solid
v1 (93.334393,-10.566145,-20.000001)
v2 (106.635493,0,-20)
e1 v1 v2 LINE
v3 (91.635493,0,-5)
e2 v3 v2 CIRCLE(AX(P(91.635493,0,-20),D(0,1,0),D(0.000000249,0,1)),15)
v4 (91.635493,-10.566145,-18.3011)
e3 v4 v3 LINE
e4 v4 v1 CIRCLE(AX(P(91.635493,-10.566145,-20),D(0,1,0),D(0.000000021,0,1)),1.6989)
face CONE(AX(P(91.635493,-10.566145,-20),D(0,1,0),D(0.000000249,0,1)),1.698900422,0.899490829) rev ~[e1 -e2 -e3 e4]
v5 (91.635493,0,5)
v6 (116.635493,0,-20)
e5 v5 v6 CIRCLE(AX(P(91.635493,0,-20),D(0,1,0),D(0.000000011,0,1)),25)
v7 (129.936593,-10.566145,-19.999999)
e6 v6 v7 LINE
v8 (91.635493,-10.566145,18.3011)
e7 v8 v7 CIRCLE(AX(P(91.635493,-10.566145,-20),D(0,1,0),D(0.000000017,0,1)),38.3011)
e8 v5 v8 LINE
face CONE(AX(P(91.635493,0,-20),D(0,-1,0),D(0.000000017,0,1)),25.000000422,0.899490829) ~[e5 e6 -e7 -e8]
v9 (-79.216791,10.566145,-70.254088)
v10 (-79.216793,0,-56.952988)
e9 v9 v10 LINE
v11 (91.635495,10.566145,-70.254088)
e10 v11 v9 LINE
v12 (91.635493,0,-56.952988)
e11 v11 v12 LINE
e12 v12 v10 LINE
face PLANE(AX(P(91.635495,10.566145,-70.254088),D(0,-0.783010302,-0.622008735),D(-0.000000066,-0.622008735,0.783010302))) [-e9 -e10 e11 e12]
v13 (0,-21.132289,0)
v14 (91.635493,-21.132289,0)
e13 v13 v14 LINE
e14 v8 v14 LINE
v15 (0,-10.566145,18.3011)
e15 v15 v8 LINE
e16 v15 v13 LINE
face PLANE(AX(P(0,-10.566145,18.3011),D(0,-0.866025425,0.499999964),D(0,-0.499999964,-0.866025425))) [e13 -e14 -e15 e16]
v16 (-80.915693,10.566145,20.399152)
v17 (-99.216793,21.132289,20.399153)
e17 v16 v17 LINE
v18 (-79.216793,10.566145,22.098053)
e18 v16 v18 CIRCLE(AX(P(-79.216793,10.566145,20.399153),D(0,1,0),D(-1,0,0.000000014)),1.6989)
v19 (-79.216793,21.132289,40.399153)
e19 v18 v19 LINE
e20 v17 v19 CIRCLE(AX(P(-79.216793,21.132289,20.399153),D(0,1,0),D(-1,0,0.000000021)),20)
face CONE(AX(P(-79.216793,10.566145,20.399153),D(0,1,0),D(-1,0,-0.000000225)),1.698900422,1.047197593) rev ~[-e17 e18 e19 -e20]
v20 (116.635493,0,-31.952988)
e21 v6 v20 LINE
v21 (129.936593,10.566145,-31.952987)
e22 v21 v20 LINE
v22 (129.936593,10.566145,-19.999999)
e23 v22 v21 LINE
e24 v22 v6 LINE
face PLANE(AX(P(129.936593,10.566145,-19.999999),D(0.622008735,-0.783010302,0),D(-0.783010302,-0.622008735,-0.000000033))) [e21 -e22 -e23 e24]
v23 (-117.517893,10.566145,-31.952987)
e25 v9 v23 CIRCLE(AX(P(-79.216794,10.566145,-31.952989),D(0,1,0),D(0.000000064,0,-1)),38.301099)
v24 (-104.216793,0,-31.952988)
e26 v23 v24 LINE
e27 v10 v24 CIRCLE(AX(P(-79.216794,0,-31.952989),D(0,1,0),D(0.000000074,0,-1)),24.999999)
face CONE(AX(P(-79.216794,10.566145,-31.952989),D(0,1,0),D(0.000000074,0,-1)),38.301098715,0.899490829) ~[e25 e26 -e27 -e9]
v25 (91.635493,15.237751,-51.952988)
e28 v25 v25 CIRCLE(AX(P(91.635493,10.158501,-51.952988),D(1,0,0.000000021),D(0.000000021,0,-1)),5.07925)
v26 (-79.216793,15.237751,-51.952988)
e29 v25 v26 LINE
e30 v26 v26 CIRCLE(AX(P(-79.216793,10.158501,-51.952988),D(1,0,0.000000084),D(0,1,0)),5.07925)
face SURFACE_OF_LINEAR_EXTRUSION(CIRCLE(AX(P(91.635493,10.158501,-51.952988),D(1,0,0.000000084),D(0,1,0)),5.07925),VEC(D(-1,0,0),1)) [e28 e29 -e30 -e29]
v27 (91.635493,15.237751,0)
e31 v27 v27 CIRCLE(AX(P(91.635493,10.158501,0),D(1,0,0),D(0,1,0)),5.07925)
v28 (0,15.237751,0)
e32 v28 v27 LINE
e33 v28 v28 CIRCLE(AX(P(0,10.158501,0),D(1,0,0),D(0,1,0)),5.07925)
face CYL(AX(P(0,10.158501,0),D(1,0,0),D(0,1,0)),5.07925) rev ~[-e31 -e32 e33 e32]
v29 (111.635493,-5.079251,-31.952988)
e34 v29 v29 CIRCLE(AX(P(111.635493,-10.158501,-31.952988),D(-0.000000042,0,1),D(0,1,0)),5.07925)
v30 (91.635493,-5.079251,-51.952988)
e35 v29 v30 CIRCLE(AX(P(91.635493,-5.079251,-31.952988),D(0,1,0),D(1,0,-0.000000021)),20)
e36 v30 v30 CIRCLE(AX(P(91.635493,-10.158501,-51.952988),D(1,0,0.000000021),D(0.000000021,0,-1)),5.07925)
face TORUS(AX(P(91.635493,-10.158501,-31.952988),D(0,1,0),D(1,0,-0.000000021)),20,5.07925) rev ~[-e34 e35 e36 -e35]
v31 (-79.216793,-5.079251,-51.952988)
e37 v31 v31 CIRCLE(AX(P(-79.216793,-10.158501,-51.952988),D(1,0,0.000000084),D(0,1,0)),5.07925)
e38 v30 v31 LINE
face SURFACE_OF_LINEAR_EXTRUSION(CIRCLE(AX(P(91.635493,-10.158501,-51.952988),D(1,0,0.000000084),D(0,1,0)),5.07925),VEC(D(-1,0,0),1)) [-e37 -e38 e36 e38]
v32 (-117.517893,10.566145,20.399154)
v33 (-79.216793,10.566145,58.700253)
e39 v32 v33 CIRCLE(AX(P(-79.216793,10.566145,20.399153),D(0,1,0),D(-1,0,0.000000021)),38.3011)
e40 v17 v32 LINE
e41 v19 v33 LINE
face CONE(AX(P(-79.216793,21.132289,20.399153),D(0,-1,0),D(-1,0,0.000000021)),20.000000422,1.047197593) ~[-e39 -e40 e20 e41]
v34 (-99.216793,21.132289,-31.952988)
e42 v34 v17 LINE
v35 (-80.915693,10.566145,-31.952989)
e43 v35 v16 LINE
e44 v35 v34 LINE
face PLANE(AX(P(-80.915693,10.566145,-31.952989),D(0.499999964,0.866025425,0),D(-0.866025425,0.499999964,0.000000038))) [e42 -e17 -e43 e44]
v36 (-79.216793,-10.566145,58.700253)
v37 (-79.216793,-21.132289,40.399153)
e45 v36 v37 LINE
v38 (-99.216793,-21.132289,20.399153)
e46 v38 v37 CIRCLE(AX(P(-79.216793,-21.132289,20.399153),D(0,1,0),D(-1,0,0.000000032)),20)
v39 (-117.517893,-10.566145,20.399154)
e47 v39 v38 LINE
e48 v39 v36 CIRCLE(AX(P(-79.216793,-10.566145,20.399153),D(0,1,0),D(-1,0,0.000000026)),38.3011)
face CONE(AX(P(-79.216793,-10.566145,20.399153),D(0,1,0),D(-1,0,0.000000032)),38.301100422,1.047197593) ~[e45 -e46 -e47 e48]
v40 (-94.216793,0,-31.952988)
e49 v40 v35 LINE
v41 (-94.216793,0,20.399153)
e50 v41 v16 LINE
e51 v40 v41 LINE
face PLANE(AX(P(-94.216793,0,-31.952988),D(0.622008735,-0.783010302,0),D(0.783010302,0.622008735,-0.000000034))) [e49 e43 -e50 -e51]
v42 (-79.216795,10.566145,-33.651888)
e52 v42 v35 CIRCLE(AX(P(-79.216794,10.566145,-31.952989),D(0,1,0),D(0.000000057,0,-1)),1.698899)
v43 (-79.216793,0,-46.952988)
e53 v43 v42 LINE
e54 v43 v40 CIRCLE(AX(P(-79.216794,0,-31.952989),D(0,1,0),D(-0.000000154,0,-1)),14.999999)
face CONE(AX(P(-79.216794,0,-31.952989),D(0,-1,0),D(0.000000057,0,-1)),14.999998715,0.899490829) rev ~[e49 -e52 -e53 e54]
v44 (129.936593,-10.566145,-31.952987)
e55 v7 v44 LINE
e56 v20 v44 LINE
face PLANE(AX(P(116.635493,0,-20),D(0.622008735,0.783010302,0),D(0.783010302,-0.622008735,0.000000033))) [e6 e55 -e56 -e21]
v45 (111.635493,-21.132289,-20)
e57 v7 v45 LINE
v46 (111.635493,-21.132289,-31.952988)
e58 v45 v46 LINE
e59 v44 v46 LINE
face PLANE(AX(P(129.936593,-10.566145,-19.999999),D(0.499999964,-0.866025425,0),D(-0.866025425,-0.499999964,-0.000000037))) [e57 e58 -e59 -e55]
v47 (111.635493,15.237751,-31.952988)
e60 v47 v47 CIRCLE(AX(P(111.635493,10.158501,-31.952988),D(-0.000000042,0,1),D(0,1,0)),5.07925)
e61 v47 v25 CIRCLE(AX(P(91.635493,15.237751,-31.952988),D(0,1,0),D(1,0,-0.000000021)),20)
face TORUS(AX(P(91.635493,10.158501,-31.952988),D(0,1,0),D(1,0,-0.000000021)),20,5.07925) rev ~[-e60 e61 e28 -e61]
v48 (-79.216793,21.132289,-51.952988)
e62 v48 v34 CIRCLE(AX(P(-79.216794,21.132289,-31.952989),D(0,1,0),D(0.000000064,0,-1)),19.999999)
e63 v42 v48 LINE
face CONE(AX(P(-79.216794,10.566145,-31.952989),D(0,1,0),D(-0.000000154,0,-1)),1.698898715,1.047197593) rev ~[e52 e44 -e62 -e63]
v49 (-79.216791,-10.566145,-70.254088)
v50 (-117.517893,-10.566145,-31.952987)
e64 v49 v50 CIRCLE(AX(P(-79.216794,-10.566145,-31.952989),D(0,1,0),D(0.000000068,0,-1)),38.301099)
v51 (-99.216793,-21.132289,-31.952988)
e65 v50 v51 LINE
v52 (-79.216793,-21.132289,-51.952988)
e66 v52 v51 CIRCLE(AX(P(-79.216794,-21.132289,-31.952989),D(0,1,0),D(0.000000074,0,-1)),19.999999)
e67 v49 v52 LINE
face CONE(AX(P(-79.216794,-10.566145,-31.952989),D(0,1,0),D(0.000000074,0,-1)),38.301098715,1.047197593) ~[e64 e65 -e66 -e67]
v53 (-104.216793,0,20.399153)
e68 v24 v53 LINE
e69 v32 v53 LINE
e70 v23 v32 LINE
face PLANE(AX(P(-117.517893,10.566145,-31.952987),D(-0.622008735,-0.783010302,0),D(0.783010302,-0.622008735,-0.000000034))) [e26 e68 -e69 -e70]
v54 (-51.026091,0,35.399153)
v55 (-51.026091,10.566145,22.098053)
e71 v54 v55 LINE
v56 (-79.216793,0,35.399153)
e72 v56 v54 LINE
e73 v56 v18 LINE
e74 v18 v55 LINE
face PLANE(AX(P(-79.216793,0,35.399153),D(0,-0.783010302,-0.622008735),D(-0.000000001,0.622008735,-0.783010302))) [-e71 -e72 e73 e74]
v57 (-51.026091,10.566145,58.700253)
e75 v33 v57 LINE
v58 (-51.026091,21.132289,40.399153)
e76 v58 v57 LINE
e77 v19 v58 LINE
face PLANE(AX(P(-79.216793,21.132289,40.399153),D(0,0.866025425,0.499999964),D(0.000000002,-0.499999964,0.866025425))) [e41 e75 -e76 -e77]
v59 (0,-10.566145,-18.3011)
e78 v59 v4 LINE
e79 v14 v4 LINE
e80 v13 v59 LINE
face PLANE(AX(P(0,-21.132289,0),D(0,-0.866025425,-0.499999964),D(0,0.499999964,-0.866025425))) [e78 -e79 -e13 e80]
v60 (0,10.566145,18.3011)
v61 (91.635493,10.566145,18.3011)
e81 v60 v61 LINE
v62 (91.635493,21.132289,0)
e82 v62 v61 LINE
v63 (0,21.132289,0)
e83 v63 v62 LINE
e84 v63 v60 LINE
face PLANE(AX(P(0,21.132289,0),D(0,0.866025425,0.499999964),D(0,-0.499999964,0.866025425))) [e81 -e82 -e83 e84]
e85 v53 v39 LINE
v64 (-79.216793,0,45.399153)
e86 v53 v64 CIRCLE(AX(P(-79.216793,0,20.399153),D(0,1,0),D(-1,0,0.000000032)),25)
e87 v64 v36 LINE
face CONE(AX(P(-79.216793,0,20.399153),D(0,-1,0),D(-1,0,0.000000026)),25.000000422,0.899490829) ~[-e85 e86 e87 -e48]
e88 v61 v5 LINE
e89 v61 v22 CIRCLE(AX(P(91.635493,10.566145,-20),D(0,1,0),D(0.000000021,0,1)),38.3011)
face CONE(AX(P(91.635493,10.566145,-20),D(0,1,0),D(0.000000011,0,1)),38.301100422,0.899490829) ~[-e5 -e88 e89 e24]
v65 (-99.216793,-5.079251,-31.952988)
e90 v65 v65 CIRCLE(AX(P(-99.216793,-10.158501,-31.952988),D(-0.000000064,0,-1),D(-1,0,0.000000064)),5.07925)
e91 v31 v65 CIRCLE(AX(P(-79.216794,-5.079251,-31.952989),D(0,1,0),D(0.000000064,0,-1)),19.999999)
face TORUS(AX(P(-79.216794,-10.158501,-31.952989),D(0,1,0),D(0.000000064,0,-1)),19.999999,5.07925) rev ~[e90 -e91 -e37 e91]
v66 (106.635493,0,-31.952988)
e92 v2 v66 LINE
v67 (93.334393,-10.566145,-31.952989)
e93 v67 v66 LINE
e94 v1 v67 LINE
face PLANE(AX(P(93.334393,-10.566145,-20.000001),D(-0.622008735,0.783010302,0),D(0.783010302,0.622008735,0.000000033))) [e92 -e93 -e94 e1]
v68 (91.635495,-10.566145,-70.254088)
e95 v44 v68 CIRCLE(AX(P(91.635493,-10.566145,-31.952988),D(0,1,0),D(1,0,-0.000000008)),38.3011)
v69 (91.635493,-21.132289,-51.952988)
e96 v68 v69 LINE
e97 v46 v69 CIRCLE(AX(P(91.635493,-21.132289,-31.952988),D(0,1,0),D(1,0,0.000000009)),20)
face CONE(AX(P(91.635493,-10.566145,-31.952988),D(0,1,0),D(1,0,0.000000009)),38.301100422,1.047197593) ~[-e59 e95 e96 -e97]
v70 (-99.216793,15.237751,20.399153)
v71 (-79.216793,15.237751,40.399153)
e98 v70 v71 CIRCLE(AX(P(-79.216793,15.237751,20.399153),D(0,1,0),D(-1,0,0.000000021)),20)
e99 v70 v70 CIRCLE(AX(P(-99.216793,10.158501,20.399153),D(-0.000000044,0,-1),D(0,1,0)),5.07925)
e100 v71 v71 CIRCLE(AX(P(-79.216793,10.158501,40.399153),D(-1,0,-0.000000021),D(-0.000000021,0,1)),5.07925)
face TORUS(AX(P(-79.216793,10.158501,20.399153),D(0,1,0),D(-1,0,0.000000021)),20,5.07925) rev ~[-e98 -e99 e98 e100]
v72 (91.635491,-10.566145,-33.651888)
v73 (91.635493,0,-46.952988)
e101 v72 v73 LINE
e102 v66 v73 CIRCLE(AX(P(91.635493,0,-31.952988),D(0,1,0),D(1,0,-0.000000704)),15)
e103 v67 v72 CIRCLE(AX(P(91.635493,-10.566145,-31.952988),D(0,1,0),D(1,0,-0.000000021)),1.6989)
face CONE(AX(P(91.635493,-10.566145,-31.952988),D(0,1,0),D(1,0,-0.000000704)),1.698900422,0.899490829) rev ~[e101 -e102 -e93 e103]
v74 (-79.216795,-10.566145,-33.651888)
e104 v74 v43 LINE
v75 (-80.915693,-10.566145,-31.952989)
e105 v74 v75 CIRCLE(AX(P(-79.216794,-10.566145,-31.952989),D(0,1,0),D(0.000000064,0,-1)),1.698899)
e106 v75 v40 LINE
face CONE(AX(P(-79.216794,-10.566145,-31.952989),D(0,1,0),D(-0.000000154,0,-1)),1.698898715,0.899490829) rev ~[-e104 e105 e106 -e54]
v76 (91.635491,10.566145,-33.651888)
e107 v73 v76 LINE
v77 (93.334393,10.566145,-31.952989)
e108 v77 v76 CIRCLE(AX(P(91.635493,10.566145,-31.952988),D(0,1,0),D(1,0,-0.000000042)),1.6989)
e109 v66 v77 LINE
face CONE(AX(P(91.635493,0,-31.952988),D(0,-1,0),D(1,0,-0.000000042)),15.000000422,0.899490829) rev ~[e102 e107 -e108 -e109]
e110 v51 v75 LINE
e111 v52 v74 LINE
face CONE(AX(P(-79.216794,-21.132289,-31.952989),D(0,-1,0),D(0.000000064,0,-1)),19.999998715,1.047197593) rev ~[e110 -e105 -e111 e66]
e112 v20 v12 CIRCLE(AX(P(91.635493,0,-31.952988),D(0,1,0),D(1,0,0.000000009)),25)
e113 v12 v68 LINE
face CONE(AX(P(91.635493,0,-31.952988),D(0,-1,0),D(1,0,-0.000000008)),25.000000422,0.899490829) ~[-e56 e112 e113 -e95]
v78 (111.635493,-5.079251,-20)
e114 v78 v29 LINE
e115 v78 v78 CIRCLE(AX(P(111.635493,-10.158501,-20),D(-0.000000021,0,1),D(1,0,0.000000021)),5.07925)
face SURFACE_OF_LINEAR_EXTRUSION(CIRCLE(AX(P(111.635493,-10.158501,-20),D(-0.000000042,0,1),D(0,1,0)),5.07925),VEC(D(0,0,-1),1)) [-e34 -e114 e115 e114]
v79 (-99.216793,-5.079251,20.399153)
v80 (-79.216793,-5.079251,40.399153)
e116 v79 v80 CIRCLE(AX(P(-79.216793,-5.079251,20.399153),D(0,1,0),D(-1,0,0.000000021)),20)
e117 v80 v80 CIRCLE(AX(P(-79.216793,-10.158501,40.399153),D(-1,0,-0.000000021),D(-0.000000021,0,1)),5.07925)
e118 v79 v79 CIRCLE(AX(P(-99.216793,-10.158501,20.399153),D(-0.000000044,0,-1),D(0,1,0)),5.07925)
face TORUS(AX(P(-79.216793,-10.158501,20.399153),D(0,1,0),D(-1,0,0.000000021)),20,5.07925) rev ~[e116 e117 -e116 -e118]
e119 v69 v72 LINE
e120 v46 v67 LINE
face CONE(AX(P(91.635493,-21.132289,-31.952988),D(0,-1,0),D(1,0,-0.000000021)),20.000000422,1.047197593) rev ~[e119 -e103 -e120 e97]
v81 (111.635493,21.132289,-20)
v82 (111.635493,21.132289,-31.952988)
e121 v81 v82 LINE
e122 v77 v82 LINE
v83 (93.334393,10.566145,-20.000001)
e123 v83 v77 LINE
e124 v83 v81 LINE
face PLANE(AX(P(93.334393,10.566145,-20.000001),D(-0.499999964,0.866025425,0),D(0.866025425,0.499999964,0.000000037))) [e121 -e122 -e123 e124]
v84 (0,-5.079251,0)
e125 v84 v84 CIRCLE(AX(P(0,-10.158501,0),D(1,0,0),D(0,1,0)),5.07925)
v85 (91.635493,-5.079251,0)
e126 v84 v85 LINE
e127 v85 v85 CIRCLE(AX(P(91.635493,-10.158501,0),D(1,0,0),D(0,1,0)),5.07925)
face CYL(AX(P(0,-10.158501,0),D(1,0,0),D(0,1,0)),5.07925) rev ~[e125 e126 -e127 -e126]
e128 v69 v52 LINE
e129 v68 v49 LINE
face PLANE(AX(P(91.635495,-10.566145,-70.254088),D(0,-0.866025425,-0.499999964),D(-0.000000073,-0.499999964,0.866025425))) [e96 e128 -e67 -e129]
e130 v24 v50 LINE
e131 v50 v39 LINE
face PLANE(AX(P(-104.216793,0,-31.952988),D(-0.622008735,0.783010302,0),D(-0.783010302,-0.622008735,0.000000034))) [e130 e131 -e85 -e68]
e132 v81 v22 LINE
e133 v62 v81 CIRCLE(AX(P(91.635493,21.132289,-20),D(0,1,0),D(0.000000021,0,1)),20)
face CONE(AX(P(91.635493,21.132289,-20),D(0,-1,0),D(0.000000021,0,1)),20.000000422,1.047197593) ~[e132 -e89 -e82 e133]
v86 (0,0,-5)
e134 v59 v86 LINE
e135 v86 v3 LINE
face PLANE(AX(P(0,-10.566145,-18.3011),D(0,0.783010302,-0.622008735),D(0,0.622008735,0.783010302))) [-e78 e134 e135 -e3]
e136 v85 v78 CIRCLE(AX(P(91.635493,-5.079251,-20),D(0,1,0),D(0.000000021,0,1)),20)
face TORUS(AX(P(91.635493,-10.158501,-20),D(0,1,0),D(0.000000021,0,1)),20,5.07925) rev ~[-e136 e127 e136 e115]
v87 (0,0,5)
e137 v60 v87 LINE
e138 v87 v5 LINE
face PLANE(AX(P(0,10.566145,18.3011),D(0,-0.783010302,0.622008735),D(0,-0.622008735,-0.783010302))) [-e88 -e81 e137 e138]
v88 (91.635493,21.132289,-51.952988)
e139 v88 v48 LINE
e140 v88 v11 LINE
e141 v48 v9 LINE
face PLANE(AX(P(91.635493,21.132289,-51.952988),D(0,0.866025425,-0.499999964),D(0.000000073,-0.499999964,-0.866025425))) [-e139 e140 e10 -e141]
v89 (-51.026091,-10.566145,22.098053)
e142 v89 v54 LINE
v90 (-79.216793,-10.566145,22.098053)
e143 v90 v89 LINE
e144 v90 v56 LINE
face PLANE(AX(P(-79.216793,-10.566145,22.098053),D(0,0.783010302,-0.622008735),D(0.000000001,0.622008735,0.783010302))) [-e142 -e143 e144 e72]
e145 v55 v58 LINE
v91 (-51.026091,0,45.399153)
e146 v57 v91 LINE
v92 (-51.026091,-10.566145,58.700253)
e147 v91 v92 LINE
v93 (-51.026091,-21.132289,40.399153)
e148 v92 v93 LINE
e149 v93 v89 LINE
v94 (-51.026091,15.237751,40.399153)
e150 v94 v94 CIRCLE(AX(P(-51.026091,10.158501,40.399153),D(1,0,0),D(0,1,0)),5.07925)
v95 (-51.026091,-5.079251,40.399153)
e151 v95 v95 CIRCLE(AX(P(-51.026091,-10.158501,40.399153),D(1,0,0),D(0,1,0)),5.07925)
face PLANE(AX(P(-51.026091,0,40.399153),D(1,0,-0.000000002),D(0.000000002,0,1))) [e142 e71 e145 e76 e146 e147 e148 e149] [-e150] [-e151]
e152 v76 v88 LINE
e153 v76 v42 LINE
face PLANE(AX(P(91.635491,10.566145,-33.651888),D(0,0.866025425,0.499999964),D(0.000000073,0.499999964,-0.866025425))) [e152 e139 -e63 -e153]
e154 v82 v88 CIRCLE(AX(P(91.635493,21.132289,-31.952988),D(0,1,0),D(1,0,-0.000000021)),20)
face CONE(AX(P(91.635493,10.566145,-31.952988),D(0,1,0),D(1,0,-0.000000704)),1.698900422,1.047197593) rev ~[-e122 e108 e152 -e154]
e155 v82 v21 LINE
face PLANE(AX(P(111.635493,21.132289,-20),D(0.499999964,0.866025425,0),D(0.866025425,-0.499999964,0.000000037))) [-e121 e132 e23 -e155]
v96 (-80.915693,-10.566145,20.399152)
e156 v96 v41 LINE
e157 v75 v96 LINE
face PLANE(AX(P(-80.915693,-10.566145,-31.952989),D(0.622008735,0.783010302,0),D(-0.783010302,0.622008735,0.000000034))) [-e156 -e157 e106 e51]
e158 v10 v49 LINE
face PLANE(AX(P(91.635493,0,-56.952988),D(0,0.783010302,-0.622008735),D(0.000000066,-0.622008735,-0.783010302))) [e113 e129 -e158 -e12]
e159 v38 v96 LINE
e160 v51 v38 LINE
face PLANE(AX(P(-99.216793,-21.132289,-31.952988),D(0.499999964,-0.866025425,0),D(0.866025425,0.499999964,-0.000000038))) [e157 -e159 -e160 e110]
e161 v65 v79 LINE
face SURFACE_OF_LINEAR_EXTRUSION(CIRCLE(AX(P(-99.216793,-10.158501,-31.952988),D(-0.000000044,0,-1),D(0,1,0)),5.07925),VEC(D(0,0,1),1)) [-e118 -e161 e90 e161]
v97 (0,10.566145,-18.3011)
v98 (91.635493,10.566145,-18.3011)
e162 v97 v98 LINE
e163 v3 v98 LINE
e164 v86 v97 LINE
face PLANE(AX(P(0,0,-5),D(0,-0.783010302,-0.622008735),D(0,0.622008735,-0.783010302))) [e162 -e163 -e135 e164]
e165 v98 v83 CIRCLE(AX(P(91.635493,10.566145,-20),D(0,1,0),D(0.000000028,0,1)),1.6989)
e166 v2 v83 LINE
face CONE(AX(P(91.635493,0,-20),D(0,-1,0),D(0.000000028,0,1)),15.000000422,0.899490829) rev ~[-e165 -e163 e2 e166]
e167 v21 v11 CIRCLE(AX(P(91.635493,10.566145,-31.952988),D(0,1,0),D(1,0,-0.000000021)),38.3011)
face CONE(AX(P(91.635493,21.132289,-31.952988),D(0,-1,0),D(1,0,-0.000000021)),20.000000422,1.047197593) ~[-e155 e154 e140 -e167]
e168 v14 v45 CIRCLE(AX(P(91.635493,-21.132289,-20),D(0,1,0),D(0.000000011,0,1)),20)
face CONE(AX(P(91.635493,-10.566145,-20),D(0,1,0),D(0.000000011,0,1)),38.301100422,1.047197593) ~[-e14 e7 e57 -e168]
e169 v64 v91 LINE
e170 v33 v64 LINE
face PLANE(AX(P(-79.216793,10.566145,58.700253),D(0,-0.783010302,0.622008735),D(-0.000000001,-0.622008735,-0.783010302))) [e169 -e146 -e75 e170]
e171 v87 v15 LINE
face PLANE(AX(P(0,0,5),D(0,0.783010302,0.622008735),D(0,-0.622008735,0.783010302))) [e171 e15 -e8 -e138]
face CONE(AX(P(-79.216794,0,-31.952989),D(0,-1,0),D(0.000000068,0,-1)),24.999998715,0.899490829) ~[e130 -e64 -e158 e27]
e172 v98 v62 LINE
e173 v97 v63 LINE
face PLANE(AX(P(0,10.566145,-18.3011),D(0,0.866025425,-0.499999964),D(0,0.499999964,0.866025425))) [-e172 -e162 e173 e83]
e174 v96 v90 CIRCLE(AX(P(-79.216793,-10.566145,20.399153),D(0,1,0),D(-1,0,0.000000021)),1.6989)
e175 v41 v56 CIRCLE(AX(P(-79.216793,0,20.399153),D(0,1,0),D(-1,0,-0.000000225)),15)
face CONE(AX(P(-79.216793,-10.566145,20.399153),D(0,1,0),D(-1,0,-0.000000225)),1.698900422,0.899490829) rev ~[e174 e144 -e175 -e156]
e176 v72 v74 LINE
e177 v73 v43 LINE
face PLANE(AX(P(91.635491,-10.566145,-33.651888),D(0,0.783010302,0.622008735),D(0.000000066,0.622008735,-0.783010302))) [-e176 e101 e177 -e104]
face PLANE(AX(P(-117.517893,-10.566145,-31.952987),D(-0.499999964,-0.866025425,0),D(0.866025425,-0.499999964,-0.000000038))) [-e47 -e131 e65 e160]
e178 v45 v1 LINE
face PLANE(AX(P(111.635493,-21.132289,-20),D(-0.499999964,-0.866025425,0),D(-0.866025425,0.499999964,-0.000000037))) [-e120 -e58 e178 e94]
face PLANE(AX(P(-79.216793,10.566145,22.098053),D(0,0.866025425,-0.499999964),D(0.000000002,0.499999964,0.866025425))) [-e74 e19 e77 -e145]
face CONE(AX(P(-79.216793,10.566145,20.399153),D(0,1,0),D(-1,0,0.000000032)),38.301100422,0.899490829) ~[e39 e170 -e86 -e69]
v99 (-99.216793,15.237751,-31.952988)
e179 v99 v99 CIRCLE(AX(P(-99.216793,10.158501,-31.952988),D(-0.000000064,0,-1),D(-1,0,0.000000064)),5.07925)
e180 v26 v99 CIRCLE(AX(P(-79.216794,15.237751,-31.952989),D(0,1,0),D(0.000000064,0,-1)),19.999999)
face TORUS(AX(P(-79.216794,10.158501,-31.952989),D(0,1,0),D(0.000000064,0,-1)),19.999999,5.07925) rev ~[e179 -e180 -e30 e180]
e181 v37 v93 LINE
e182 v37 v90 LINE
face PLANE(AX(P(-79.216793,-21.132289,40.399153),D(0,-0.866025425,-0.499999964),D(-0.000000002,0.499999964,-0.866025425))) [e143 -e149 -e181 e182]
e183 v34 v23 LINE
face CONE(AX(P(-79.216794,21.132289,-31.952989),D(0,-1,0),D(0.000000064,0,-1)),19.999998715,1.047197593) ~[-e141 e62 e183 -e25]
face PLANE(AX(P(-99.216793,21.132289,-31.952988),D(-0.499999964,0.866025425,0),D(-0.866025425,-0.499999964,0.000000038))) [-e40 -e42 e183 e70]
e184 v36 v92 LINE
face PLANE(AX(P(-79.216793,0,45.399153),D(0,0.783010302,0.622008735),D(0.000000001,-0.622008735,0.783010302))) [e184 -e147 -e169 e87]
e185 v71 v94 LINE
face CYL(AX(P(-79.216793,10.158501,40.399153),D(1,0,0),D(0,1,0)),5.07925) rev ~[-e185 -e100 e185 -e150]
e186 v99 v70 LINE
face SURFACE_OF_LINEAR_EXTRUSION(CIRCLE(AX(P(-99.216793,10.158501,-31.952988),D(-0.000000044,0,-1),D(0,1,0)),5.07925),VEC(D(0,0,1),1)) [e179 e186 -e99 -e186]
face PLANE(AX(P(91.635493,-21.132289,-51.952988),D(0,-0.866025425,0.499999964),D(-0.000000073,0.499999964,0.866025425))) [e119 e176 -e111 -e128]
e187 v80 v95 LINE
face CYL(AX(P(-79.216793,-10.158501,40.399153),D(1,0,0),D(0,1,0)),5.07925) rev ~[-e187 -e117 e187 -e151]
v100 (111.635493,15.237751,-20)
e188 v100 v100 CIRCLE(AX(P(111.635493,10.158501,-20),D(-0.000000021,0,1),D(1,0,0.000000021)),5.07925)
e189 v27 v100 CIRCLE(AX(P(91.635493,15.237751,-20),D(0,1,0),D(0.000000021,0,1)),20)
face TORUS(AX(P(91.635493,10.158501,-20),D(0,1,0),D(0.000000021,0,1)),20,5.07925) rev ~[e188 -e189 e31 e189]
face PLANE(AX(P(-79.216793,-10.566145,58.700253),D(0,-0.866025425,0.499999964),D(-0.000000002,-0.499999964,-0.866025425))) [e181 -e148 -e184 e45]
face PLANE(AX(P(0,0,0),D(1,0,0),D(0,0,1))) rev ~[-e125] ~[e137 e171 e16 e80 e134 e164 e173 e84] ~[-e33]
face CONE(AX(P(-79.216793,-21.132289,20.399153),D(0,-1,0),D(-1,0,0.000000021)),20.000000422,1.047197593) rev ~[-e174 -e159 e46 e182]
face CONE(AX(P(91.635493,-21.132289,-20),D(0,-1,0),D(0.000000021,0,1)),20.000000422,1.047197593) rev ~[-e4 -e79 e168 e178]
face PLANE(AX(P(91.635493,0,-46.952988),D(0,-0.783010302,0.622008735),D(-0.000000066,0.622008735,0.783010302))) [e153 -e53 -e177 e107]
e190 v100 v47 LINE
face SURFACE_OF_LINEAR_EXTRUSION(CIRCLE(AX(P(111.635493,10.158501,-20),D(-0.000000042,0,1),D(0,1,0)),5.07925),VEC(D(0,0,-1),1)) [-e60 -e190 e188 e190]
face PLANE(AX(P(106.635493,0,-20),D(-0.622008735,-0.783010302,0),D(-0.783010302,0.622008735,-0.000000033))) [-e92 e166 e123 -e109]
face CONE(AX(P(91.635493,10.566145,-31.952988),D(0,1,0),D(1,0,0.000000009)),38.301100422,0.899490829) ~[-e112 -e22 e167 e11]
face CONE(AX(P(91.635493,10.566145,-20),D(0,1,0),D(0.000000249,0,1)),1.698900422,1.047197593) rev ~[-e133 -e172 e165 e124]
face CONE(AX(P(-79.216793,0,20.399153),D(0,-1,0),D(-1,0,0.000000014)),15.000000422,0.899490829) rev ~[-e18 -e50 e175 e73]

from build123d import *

# Parameters (mm, degrees)
F0_R = 5.07925


with BuildPart() as f2:
    # F2: sweep along a path in F1
    with BuildLine(Plane.XZ) as f2_path:
        Line((0, 0), (91.635493, 0))
        ThreePointArc((91.635493, 0), (105.777628, -5.857864), (111.635493, -20))
        Line((111.635493, -20), (111.635493, -31.952988))
        ThreePointArc((111.635493, -31.952988), (105.777628, -46.095124), (91.635493, -51.952988))
        Line((91.635493, -51.952988), (-79.216793, -51.952988))
        ThreePointArc((-79.216793, -51.952988), (-93.358929, -46.095124), (-99.216793, -31.952988))
        Line((-99.216793, -31.952988), (-99.216793, 20.399153))
        ThreePointArc((-99.216793, 20.399153), (-93.358929, 34.541288), (-79.216793, 40.399153))
        Line((-79.216793, 40.399153), (-51.026091, 40.399153))
    # F0 (on Right) → F2 (sweep)
    with BuildSketch(Plane.YZ):
        Polygon((21.132289, 0), (10.566145, 18.3011), (0, 5), (-10.566145, 18.3011), (-21.132289, 0), (-10.566145, -18.3011), (0, -5), (10.566145, -18.3011), align=None)
        with Locations((-10.158501, 0)):
            Circle(F0_R, mode=Mode.SUBTRACT)
        with Locations((10.158501, 0)):
            Circle(F0_R, mode=Mode.SUBTRACT)
    sweep(path=f2_path.line)


solid = f2.part
